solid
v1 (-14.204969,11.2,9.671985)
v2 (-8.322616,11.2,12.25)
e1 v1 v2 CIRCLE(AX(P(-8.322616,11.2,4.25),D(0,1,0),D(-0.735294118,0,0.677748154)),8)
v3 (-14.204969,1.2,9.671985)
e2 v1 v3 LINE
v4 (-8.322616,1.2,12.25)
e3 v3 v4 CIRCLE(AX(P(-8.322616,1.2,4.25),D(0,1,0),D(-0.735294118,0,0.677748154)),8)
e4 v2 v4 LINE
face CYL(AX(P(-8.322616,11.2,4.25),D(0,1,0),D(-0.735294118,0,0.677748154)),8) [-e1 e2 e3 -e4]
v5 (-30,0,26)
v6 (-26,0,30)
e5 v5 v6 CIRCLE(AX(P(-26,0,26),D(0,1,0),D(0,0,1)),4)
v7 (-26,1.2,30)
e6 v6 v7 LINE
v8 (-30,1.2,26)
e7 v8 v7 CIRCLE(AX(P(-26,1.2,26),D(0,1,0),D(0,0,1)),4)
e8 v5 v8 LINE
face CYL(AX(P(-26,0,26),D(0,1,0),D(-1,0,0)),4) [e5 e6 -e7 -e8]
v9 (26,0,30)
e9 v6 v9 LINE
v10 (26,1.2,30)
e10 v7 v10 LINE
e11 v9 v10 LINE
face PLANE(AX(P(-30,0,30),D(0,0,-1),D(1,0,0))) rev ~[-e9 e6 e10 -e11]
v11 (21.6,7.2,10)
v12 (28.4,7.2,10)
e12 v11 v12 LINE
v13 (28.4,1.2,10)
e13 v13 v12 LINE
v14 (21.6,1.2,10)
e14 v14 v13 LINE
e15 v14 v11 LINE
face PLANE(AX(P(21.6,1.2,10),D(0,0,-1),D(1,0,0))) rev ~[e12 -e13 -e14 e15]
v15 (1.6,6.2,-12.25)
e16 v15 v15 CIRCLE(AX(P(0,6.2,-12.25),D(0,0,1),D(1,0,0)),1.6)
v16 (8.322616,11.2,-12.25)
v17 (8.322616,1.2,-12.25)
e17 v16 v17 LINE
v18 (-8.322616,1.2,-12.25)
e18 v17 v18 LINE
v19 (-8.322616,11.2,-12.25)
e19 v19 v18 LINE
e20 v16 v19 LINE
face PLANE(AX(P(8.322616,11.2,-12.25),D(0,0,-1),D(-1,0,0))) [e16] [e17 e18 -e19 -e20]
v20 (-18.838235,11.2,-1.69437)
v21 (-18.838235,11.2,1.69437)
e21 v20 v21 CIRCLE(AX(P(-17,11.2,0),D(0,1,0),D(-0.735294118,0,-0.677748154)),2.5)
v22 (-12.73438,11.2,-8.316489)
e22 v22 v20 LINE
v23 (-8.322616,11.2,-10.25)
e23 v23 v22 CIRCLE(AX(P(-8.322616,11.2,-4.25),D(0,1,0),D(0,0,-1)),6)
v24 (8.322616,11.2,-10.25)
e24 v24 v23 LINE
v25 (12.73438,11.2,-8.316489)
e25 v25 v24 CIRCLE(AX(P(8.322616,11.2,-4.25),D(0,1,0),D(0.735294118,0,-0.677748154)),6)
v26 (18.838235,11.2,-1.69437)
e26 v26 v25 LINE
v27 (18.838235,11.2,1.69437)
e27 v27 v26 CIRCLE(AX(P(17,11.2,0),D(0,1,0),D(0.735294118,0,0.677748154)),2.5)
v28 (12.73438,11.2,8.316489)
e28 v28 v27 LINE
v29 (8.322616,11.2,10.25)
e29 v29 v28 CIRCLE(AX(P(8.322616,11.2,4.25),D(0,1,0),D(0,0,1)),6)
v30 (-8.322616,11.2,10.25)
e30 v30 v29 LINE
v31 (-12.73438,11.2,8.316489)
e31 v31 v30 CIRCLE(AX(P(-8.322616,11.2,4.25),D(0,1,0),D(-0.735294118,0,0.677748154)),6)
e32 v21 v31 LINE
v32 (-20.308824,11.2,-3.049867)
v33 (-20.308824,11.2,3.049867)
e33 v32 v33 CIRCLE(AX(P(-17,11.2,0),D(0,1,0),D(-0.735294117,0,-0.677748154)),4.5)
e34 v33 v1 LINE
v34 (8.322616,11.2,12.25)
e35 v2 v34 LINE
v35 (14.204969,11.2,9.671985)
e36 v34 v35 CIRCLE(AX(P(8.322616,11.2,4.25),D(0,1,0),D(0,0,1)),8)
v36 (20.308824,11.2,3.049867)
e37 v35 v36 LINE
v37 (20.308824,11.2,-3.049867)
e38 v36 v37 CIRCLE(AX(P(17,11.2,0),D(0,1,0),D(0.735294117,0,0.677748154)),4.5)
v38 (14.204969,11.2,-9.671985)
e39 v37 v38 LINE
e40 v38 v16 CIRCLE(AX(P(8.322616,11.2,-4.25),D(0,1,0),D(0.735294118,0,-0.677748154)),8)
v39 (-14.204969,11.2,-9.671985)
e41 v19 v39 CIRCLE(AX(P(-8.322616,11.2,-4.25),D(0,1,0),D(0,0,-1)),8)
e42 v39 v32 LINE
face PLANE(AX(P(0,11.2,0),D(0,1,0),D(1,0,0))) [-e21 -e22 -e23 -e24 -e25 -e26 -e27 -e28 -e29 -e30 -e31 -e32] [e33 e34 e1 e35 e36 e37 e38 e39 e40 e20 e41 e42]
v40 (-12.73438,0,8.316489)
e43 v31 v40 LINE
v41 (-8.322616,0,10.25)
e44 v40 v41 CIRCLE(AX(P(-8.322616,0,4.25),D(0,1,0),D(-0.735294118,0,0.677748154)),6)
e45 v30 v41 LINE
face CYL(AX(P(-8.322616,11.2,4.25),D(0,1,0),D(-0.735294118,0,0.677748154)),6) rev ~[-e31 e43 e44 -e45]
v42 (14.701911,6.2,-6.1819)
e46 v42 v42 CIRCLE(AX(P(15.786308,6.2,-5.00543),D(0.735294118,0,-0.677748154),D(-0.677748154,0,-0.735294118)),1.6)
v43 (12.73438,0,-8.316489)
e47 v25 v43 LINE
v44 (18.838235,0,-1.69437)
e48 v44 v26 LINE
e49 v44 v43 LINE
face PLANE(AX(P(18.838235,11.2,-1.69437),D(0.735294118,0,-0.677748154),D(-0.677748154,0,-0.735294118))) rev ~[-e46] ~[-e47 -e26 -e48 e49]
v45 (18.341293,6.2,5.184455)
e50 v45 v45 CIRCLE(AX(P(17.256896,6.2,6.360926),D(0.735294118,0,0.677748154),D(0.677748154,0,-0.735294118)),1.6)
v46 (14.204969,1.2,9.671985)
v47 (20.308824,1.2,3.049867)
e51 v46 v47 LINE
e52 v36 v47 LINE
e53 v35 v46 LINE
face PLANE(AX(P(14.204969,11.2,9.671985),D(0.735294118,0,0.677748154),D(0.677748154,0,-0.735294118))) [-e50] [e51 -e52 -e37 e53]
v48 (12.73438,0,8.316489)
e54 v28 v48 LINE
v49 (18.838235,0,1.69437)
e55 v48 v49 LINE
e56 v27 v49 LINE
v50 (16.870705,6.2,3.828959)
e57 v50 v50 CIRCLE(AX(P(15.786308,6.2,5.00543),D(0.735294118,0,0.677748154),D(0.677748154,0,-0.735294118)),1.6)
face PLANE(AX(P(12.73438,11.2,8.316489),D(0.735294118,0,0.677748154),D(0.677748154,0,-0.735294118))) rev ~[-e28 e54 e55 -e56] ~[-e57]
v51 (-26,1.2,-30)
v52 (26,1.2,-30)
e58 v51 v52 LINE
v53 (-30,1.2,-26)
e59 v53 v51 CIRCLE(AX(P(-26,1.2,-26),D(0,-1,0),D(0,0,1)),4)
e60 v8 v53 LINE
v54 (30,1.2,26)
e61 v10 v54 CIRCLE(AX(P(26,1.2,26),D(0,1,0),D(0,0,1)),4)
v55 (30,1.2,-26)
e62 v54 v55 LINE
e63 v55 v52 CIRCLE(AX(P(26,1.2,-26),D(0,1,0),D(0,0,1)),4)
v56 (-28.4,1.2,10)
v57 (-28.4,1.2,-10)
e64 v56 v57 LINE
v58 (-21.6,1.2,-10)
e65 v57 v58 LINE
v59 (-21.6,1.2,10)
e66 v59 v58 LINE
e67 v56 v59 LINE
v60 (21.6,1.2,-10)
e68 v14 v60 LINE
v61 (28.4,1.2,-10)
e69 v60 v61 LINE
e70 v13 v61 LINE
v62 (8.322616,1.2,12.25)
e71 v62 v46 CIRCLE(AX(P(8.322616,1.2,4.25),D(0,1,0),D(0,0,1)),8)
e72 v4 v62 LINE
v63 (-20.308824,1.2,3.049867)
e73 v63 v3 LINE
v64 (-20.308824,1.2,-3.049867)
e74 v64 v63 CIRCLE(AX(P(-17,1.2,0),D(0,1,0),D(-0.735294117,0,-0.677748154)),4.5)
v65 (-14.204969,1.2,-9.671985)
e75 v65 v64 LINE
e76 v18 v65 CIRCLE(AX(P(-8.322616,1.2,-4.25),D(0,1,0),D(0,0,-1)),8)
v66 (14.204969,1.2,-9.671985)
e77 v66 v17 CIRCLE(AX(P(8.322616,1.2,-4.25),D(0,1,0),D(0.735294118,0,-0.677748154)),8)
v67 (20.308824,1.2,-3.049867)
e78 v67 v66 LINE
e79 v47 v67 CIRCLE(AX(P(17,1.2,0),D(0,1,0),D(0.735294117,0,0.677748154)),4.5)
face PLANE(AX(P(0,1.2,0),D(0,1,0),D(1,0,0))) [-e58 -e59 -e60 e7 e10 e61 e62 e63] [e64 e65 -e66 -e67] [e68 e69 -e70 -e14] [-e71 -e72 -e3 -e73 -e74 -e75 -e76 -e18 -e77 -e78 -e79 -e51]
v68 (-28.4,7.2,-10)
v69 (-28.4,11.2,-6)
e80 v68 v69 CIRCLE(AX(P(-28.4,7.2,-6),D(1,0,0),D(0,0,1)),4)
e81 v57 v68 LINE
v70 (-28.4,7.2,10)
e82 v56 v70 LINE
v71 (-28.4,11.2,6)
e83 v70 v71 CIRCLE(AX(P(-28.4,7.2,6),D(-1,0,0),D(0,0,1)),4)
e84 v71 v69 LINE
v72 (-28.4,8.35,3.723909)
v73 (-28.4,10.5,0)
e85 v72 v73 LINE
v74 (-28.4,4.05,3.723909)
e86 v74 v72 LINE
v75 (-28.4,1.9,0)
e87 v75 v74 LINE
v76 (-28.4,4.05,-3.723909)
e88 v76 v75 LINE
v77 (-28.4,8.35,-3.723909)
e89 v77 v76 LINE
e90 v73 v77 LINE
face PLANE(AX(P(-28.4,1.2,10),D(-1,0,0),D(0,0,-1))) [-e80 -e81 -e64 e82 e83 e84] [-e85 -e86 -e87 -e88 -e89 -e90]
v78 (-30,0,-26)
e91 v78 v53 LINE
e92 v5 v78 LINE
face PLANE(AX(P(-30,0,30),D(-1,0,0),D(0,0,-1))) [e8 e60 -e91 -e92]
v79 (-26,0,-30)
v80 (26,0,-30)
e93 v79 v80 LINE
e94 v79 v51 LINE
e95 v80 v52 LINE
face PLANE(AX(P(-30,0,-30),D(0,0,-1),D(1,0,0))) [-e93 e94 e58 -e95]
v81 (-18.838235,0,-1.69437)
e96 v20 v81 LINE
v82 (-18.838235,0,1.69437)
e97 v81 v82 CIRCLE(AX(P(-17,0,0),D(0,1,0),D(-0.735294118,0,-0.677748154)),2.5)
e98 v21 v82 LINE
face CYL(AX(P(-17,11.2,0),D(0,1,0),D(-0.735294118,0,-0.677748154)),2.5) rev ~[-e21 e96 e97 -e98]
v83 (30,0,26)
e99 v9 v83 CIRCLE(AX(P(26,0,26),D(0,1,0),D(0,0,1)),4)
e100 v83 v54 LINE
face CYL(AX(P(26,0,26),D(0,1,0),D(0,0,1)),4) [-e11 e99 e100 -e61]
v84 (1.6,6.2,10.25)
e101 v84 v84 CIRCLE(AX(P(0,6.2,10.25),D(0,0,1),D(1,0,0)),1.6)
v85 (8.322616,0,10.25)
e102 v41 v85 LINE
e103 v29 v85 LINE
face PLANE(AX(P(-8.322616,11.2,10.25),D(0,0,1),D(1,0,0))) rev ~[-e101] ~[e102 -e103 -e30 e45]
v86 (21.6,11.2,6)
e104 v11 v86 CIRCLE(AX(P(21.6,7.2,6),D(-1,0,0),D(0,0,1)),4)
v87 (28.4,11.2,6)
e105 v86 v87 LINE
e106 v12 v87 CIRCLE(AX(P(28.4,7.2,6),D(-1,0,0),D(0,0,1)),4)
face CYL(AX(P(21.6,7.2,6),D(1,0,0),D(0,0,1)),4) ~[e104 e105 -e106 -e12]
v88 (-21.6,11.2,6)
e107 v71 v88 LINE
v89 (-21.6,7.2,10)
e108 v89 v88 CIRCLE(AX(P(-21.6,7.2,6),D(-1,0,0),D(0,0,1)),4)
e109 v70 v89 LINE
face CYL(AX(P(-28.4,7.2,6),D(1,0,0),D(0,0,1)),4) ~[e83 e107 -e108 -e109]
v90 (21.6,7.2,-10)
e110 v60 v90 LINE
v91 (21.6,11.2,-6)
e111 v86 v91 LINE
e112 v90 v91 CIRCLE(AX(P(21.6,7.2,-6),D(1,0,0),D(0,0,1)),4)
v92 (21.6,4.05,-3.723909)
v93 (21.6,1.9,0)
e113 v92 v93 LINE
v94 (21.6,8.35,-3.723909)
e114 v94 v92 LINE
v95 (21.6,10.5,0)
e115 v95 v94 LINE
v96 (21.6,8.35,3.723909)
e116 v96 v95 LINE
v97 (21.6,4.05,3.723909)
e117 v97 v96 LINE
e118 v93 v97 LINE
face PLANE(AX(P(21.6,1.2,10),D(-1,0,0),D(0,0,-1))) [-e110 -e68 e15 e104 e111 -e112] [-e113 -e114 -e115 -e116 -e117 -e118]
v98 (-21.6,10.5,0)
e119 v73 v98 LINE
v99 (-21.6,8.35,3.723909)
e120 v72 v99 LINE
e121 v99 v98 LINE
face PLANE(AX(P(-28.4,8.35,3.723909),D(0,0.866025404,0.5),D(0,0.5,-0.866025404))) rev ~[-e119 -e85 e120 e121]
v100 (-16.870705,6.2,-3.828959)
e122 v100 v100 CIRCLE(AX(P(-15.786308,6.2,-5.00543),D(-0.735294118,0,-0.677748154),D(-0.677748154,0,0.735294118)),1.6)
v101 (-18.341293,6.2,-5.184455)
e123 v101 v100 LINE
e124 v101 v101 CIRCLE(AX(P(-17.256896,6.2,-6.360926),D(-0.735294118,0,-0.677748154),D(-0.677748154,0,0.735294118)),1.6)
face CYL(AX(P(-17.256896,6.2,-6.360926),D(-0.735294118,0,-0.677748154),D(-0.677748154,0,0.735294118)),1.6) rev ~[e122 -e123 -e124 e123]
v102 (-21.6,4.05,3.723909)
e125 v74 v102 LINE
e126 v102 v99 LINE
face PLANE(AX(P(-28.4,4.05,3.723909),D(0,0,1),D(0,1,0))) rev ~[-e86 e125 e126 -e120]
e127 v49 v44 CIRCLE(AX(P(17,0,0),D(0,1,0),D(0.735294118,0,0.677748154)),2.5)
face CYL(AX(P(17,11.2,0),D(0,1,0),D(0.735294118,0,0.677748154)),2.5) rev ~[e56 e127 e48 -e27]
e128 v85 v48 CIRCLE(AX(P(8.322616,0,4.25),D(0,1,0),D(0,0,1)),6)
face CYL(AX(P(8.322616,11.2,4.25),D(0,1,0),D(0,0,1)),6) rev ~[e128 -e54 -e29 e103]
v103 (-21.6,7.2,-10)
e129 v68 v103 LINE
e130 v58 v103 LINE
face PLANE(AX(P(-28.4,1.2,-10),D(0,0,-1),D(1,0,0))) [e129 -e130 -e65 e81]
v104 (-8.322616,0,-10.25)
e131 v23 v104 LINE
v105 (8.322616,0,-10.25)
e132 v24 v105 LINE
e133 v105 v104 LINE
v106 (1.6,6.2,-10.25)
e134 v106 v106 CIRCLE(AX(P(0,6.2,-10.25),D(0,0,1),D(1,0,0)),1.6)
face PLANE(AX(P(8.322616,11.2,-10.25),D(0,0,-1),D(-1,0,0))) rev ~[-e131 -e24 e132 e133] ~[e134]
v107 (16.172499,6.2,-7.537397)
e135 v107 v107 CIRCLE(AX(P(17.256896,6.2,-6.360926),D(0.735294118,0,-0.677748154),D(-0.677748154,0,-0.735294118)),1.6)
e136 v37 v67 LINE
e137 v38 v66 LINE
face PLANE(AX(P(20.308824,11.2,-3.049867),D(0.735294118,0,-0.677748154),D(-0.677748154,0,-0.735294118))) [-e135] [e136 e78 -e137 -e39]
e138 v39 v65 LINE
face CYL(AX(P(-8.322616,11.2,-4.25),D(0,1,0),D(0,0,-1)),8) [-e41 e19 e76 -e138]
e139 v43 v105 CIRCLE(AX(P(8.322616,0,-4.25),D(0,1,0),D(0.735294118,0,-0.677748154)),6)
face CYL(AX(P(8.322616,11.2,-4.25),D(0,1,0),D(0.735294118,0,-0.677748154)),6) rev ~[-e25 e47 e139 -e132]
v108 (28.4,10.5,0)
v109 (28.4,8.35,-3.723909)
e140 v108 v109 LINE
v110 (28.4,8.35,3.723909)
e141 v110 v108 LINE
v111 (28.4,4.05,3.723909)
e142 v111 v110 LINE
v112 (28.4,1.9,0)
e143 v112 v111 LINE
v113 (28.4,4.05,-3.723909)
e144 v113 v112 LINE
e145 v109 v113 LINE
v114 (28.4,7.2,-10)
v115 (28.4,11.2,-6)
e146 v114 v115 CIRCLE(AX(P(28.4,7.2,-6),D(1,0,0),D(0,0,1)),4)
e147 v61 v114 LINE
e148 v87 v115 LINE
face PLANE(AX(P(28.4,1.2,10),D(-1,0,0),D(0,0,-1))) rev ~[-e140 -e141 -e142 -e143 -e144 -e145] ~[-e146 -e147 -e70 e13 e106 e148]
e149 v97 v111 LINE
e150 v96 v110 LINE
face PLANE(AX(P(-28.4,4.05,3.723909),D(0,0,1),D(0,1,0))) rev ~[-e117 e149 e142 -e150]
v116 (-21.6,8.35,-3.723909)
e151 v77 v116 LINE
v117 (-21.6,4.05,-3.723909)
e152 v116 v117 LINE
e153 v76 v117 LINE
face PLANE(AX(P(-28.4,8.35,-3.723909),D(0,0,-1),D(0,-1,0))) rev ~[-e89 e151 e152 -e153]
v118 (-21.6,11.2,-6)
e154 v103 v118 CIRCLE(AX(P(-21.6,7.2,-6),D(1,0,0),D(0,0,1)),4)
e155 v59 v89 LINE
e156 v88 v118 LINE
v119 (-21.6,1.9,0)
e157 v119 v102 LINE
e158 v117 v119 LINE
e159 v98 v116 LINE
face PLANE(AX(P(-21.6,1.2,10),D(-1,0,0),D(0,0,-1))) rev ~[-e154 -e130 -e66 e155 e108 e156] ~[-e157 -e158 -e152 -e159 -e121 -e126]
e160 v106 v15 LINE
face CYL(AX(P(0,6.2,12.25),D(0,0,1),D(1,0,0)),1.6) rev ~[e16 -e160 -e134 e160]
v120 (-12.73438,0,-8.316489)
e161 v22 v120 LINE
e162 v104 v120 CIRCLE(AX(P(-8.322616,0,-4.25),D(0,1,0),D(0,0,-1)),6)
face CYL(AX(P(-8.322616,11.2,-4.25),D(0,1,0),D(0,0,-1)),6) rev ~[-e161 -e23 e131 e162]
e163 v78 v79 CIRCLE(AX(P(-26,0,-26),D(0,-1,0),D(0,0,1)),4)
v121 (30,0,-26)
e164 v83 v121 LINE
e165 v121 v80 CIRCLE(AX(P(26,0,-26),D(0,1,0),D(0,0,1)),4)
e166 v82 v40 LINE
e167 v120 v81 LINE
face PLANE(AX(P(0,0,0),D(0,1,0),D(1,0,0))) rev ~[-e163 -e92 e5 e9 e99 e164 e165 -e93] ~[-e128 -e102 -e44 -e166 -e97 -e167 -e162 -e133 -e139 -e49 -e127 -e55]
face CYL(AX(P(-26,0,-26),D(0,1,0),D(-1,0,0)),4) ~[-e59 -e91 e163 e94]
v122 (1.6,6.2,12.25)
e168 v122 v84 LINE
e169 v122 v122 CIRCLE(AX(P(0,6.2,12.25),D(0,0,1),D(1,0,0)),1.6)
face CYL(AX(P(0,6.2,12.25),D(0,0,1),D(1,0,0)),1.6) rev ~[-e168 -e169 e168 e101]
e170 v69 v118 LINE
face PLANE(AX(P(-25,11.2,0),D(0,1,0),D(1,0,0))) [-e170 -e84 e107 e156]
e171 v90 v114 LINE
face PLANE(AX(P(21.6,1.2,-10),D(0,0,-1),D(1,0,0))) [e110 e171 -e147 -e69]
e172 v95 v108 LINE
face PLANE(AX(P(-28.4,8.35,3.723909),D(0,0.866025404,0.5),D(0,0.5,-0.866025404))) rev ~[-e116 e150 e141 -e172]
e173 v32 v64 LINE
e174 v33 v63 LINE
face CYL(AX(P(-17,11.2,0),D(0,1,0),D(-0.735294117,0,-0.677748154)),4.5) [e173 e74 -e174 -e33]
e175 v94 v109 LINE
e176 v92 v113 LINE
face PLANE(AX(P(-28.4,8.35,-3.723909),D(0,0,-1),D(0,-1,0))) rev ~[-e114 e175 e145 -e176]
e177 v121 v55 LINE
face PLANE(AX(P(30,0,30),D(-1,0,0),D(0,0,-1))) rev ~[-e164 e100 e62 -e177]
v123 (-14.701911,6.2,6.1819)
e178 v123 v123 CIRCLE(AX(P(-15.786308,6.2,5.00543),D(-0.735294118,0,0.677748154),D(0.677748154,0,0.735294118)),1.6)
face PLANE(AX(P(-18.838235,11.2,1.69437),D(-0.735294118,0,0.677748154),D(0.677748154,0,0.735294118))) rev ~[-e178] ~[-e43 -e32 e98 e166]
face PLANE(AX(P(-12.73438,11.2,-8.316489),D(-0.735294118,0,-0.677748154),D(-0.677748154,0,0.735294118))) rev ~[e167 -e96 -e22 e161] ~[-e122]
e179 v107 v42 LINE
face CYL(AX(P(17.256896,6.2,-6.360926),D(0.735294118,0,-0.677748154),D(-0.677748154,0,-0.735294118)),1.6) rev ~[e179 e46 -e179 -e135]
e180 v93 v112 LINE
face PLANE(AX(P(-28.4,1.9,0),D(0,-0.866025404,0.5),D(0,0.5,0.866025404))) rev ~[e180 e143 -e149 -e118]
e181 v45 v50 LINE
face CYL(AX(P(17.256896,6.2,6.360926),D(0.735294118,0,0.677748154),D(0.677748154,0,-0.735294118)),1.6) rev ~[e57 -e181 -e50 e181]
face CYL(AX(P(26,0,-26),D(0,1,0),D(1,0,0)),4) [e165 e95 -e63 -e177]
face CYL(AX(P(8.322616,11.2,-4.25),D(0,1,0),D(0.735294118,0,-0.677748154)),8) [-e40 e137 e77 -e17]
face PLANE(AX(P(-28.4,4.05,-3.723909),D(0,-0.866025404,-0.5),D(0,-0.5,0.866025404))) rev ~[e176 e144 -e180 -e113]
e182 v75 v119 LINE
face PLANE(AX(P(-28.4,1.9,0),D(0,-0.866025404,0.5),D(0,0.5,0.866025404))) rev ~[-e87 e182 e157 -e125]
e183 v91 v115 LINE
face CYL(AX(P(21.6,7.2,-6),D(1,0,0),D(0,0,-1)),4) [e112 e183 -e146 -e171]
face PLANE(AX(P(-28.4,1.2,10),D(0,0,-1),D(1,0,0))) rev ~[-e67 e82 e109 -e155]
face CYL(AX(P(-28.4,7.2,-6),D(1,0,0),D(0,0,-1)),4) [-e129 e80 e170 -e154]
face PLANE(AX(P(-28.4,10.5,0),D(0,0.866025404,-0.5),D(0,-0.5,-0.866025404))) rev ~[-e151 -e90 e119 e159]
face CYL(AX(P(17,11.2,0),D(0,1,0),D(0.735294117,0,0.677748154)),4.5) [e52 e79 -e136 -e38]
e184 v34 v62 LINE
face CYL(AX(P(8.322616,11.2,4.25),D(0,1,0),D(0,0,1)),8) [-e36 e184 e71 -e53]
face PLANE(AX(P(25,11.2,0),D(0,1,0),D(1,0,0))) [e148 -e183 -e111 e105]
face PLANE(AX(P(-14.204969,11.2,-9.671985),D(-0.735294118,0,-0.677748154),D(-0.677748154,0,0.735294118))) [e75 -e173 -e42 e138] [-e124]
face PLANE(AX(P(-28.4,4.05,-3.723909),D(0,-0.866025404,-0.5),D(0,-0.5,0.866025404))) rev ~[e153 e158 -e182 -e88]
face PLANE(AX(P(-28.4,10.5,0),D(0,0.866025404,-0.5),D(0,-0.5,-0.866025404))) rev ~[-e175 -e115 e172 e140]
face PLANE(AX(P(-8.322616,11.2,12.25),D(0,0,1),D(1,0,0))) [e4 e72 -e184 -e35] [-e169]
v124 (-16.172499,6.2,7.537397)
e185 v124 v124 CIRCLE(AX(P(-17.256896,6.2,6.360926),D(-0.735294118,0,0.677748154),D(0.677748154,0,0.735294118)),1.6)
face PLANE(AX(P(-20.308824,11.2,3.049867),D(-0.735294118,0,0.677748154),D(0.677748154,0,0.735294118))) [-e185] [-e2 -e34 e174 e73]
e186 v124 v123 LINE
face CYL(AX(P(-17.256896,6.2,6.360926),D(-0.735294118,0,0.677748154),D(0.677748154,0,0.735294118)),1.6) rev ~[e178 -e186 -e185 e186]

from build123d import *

# Parameters (mm, degrees)
SKETCH1_W           = 60
SKETCH1_H           = 60
BOSS_EXTRUDE1_DEPTH = 1.2
FILLET1_R           = 4
SKETCH3_W           = 6.8
SKETCH3_H           = 20
BOSS_EXTRUDE3_DEPTH = 10
FILLET2_R           = 4
CUT_EXTRUDE1_DEPTH  = 100
CUT_EXTRUDE2_DEPTH  = 44.588989435
BOSS_EXTRUDE4_START = 10
BOSS_EXTRUDE4_DEPTH = 10
CUT_EXTRUDE4_REACH  = 55.014
SKETCH6_R           = 1.6
CUT_EXTRUDE5_REACH  = 62.463
SKETCH7_R           = 1.6
CUT_EXTRUDE6_REACH  = 62.463
SKETCH8_R           = 1.6
CUT_EXTRUDE7_REACH  = 62.463
SKETCH9_R           = 1.6
CUT_EXTRUDE8_REACH  = 62.463
SKETCH10_R          = 1.6


with BuildPart() as part:
    # Sketch1 → Boss-Extrude1 (new body)
    with BuildSketch(Plane(origin=(0, 0, 0), x_dir=(1, 0, 0), z_dir=(0, 1, 0))):
        Rectangle(SKETCH1_W, SKETCH1_H)
    extrude(amount=BOSS_EXTRUDE1_DEPTH)

    # Fillet1
    fillet1_edges = [part.edges().sort_by_distance(p)[0] for p in [
        (30, 0.6, 30),
        (-30, 0.6, 30),
        (-30, 0.6, -30),
        (30, 0.6, -30),
    ]]
    fillet(fillet1_edges, radius=FILLET1_R)

    # Sketch3 → Boss-Extrude3 (add)
    with BuildSketch(Plane(origin=(0, 1.2, 0), x_dir=(1, 0, 0), z_dir=(0, 1, 0))):
        with Locations((-25, 0)):
            Rectangle(SKETCH3_W, SKETCH3_H)
        with Locations((25, 0)):
            Rectangle(SKETCH3_W, SKETCH3_H)
    extrude(amount=BOSS_EXTRUDE3_DEPTH)

    # Fillet2
    fillet2_edges = [part.edges().sort_by_distance(p)[0] for p in [
        (-25, 11.2, -10),
        (-25, 11.2, 10),
        (25, 11.2, 10),
        (25, 11.2, -10),
    ]]
    fillet(fillet2_edges, radius=FILLET2_R)

    # Sketch4 → Cut-Extrude1 (cut)
    with BuildSketch(Plane.ZY.offset(28.4)):
        Polygon((0, 1.9), (0, 10.5), (-3.723909236, 8.35), (-3.723909236, 4.05), align=None)
        Polygon((3.723909236, 8.35), (0, 10.5), (0, 1.9), (3.723909236, 4.05), align=None)
    extrude(amount=-CUT_EXTRUDE1_DEPTH, mode=Mode.SUBTRACT)

    # Sketch5 → Cut-Extrude2 (cut, through all)
    with BuildSketch(Plane(origin=(0, 1.2, 0), x_dir=(1, 0, 0), z_dir=(0, 1, 0))):
        with BuildLine():
            Line((18.838235294, 1.694370386), (12.734380374, 8.316488925))
            ThreePointArc((12.734380374, 8.316488925), (10.731045286, 9.74540415), (8.322615669, 10.25))
            Line((8.322615669, 10.25), (-8.322615669, 10.25))
            ThreePointArc((-8.322615669, 10.25), (-10.731045286, 9.74540415), (-12.734380374, 8.316488925))
            Line((-12.734380374, 8.316488925), (-18.838235294, 1.694370386))
            ThreePointArc((-18.838235294, 1.694370386), (-19.5, 0), (-18.838235294, -1.694370386))
            Line((-18.838235294, -1.694370386), (-12.734380374, -8.316488925))
            ThreePointArc((-12.734380374, -8.316488925), (-10.731045286, -9.74540415), (-8.322615669, -10.25))
            Line((-8.322615669, -10.25), (8.322615669, -10.25))
            ThreePointArc((8.322615669, -10.25), (10.731045286, -9.74540415), (12.734380374, -8.316488925))
            Line((12.734380374, -8.316488925), (18.838235294, -1.694370386))
            ThreePointArc((18.838235294, -1.694370386), (19.5, 0), (18.838235294, 1.694370386))
        make_face()
    extrude(amount=-CUT_EXTRUDE2_DEPTH, mode=Mode.SUBTRACT)

    # Sketch5<3> → Boss-Extrude4 (add)
    with BuildSketch(Plane(origin=(0, 1.2, 0), x_dir=(1, 0, 0), z_dir=(0, 1, 0)).offset(BOSS_EXTRUDE4_START)):
        with BuildLine():
            Line((20.308823529, 3.049866694), (14.20496861, 9.671985234))
            ThreePointArc((14.20496861, 9.671985234), (11.533855159, 11.577205534), (8.322615669, 12.25))
            Line((8.322615669, 12.25), (-8.322615669, 12.25))
            ThreePointArc((-8.322615669, 12.25), (-11.533855159, 11.577205534), (-14.20496861, 9.671985234))
            Line((-14.20496861, 9.671985234), (-20.308823529, 3.049866694))
            ThreePointArc((-20.308823529, 3.049866694), (-21.5, 0), (-20.308823529, -3.049866694))
            Line((-20.308823529, -3.049866694), (-14.20496861, -9.671985234))
            ThreePointArc((-14.20496861, -9.671985234), (-11.533855159, -11.577205534), (-8.322615669, -12.25))
            Line((-8.322615669, -12.25), (8.322615669, -12.25))
            ThreePointArc((8.322615669, -12.25), (11.533855159, -11.577205534), (14.20496861, -9.671985234))
            Line((14.20496861, -9.671985234), (20.308823529, -3.049866694))
            ThreePointArc((20.308823529, -3.049866694), (21.5, 0), (20.308823529, 3.049866694))
        make_face()
        with BuildLine():
            Line((18.838235294, 1.694370386), (12.734380374, 8.316488925))
            ThreePointArc((12.734380374, 8.316488925), (10.731045286, 9.74540415), (8.322615669, 10.25))
            Line((8.322615669, 10.25), (-8.322615669, 10.25))
            ThreePointArc((-8.322615669, 10.25), (-10.731045286, 9.74540415), (-12.734380374, 8.316488925))
            Line((-12.734380374, 8.316488925), (-18.838235294, 1.694370386))
            ThreePointArc((-18.838235294, 1.694370386), (-19.5, 0), (-18.838235294, -1.694370386))
            Line((-18.838235294, -1.694370386), (-12.734380374, -8.316488925))
            ThreePointArc((-12.734380374, -8.316488925), (-10.731045286, -9.74540415), (-8.322615669, -10.25))
            Line((-8.322615669, -10.25), (8.322615669, -10.25))
            ThreePointArc((8.322615669, -10.25), (10.731045286, -9.74540415), (12.734380374, -8.316488925))
            Line((12.734380374, -8.316488925), (18.838235294, -1.694370386))
            ThreePointArc((18.838235294, -1.694370386), (19.5, 0), (18.838235294, 1.694370386))
        make_face(mode=Mode.SUBTRACT)
    extrude(amount=-BOSS_EXTRUDE4_DEPTH)

    # Cut-Extrude4: up to this face of the body (flat: up to its plane)
    cut_extrude4_end = Plane(part.part.faces().sort_by_distance((0, 6.2, -12.25))[0])
    # Sketch6 → Cut-Extrude4 (cut, up to the picked face)
    with BuildSketch(Plane.XY.offset(12.25), mode=Mode.PRIVATE) as cut_extrude4_sk1:
        with Locations((0, 6.2)):
            Circle(SKETCH6_R)
    cut_extrude4_tool1 = split(extrude(cut_extrude4_sk1.sketch, amount=-CUT_EXTRUDE4_REACH, mode=Mode.PRIVATE), bisect_by=cut_extrude4_end, keep=Keep.BOTH, mode=Mode.PRIVATE)
    add(cut_extrude4_tool1.solids().sort_by(Axis((0, 6.2, 12.25), (0, 0, -1)))[0], mode=Mode.SUBTRACT)

    # Sketch7 → Cut-Extrude5 (cut, up to next)
    with BuildSketch(Plane(origin=(-12.5, 0, 11.521718622), x_dir=(0.677748154223703, 0, 0.7352941176470567), z_dir=(-0.7352941176470567, 0, 0.677748154223703)), mode=Mode.PRIVATE) as cut_extrude5_sk1:
        with Locations((-7.018678015, 6.2)):
            Circle(SKETCH7_R)
    cut_extrude5_tool1 = extrude(cut_extrude5_sk1.sketch, amount=-CUT_EXTRUDE5_REACH, mode=Mode.PRIVATE) & part.part
    add(cut_extrude5_tool1.solids().sort_by_distance((-17.256896, 6.2, 6.360926))[0], mode=Mode.SUBTRACT)

    # Sketch8 → Cut-Extrude6 (cut, up to next)
    with BuildSketch(Plane(origin=(12.5, 0, 11.521718622), x_dir=(0.6777481542236974, 0, -0.735294117647062), z_dir=(0.735294117647062, 0, 0.6777481542236974)), mode=Mode.PRIVATE) as cut_extrude6_sk1:
        with Locations((7.018678015, 6.2)):
            Circle(SKETCH8_R)
    cut_extrude6_tool1 = extrude(cut_extrude6_sk1.sketch, amount=-CUT_EXTRUDE6_REACH, mode=Mode.PRIVATE) & part.part
    add(cut_extrude6_tool1.solids().sort_by_distance((17.256896, 6.2, 6.360926))[0], mode=Mode.SUBTRACT)

    # Sketch9 → Cut-Extrude7 (cut, up to next)
    with BuildSketch(Plane(origin=(-12.5, 0, -11.521718622), x_dir=(-0.6777481542236947, 0, 0.7352941176470644), z_dir=(-0.7352941176470644, 0, -0.6777481542236947)), mode=Mode.PRIVATE) as cut_extrude7_sk1:
        with Locations((7.018678015, 6.2)):
            Circle(SKETCH9_R)
    cut_extrude7_tool1 = extrude(cut_extrude7_sk1.sketch, amount=-CUT_EXTRUDE7_REACH, mode=Mode.PRIVATE) & part.part
    add(cut_extrude7_tool1.solids().sort_by_distance((-17.256896, 6.2, -6.360926))[0], mode=Mode.SUBTRACT)

    # Sketch10 → Cut-Extrude8 (cut, up to next)
    with BuildSketch(Plane(origin=(12.5, 0, -11.521718622), x_dir=(-0.6777481542237005, 0, -0.7352941176470591), z_dir=(0.7352941176470591, 0, -0.6777481542237005)), mode=Mode.PRIVATE) as cut_extrude8_sk1:
        with Locations((-7.018678015, 6.2)):
            Circle(SKETCH10_R)
    cut_extrude8_tool1 = extrude(cut_extrude8_sk1.sketch, amount=-CUT_EXTRUDE8_REACH, mode=Mode.PRIVATE) & part.part
    add(cut_extrude8_tool1.solids().sort_by_distance((17.256896, 6.2, -6.360926))[0], mode=Mode.SUBTRACT)


solid = part.part
